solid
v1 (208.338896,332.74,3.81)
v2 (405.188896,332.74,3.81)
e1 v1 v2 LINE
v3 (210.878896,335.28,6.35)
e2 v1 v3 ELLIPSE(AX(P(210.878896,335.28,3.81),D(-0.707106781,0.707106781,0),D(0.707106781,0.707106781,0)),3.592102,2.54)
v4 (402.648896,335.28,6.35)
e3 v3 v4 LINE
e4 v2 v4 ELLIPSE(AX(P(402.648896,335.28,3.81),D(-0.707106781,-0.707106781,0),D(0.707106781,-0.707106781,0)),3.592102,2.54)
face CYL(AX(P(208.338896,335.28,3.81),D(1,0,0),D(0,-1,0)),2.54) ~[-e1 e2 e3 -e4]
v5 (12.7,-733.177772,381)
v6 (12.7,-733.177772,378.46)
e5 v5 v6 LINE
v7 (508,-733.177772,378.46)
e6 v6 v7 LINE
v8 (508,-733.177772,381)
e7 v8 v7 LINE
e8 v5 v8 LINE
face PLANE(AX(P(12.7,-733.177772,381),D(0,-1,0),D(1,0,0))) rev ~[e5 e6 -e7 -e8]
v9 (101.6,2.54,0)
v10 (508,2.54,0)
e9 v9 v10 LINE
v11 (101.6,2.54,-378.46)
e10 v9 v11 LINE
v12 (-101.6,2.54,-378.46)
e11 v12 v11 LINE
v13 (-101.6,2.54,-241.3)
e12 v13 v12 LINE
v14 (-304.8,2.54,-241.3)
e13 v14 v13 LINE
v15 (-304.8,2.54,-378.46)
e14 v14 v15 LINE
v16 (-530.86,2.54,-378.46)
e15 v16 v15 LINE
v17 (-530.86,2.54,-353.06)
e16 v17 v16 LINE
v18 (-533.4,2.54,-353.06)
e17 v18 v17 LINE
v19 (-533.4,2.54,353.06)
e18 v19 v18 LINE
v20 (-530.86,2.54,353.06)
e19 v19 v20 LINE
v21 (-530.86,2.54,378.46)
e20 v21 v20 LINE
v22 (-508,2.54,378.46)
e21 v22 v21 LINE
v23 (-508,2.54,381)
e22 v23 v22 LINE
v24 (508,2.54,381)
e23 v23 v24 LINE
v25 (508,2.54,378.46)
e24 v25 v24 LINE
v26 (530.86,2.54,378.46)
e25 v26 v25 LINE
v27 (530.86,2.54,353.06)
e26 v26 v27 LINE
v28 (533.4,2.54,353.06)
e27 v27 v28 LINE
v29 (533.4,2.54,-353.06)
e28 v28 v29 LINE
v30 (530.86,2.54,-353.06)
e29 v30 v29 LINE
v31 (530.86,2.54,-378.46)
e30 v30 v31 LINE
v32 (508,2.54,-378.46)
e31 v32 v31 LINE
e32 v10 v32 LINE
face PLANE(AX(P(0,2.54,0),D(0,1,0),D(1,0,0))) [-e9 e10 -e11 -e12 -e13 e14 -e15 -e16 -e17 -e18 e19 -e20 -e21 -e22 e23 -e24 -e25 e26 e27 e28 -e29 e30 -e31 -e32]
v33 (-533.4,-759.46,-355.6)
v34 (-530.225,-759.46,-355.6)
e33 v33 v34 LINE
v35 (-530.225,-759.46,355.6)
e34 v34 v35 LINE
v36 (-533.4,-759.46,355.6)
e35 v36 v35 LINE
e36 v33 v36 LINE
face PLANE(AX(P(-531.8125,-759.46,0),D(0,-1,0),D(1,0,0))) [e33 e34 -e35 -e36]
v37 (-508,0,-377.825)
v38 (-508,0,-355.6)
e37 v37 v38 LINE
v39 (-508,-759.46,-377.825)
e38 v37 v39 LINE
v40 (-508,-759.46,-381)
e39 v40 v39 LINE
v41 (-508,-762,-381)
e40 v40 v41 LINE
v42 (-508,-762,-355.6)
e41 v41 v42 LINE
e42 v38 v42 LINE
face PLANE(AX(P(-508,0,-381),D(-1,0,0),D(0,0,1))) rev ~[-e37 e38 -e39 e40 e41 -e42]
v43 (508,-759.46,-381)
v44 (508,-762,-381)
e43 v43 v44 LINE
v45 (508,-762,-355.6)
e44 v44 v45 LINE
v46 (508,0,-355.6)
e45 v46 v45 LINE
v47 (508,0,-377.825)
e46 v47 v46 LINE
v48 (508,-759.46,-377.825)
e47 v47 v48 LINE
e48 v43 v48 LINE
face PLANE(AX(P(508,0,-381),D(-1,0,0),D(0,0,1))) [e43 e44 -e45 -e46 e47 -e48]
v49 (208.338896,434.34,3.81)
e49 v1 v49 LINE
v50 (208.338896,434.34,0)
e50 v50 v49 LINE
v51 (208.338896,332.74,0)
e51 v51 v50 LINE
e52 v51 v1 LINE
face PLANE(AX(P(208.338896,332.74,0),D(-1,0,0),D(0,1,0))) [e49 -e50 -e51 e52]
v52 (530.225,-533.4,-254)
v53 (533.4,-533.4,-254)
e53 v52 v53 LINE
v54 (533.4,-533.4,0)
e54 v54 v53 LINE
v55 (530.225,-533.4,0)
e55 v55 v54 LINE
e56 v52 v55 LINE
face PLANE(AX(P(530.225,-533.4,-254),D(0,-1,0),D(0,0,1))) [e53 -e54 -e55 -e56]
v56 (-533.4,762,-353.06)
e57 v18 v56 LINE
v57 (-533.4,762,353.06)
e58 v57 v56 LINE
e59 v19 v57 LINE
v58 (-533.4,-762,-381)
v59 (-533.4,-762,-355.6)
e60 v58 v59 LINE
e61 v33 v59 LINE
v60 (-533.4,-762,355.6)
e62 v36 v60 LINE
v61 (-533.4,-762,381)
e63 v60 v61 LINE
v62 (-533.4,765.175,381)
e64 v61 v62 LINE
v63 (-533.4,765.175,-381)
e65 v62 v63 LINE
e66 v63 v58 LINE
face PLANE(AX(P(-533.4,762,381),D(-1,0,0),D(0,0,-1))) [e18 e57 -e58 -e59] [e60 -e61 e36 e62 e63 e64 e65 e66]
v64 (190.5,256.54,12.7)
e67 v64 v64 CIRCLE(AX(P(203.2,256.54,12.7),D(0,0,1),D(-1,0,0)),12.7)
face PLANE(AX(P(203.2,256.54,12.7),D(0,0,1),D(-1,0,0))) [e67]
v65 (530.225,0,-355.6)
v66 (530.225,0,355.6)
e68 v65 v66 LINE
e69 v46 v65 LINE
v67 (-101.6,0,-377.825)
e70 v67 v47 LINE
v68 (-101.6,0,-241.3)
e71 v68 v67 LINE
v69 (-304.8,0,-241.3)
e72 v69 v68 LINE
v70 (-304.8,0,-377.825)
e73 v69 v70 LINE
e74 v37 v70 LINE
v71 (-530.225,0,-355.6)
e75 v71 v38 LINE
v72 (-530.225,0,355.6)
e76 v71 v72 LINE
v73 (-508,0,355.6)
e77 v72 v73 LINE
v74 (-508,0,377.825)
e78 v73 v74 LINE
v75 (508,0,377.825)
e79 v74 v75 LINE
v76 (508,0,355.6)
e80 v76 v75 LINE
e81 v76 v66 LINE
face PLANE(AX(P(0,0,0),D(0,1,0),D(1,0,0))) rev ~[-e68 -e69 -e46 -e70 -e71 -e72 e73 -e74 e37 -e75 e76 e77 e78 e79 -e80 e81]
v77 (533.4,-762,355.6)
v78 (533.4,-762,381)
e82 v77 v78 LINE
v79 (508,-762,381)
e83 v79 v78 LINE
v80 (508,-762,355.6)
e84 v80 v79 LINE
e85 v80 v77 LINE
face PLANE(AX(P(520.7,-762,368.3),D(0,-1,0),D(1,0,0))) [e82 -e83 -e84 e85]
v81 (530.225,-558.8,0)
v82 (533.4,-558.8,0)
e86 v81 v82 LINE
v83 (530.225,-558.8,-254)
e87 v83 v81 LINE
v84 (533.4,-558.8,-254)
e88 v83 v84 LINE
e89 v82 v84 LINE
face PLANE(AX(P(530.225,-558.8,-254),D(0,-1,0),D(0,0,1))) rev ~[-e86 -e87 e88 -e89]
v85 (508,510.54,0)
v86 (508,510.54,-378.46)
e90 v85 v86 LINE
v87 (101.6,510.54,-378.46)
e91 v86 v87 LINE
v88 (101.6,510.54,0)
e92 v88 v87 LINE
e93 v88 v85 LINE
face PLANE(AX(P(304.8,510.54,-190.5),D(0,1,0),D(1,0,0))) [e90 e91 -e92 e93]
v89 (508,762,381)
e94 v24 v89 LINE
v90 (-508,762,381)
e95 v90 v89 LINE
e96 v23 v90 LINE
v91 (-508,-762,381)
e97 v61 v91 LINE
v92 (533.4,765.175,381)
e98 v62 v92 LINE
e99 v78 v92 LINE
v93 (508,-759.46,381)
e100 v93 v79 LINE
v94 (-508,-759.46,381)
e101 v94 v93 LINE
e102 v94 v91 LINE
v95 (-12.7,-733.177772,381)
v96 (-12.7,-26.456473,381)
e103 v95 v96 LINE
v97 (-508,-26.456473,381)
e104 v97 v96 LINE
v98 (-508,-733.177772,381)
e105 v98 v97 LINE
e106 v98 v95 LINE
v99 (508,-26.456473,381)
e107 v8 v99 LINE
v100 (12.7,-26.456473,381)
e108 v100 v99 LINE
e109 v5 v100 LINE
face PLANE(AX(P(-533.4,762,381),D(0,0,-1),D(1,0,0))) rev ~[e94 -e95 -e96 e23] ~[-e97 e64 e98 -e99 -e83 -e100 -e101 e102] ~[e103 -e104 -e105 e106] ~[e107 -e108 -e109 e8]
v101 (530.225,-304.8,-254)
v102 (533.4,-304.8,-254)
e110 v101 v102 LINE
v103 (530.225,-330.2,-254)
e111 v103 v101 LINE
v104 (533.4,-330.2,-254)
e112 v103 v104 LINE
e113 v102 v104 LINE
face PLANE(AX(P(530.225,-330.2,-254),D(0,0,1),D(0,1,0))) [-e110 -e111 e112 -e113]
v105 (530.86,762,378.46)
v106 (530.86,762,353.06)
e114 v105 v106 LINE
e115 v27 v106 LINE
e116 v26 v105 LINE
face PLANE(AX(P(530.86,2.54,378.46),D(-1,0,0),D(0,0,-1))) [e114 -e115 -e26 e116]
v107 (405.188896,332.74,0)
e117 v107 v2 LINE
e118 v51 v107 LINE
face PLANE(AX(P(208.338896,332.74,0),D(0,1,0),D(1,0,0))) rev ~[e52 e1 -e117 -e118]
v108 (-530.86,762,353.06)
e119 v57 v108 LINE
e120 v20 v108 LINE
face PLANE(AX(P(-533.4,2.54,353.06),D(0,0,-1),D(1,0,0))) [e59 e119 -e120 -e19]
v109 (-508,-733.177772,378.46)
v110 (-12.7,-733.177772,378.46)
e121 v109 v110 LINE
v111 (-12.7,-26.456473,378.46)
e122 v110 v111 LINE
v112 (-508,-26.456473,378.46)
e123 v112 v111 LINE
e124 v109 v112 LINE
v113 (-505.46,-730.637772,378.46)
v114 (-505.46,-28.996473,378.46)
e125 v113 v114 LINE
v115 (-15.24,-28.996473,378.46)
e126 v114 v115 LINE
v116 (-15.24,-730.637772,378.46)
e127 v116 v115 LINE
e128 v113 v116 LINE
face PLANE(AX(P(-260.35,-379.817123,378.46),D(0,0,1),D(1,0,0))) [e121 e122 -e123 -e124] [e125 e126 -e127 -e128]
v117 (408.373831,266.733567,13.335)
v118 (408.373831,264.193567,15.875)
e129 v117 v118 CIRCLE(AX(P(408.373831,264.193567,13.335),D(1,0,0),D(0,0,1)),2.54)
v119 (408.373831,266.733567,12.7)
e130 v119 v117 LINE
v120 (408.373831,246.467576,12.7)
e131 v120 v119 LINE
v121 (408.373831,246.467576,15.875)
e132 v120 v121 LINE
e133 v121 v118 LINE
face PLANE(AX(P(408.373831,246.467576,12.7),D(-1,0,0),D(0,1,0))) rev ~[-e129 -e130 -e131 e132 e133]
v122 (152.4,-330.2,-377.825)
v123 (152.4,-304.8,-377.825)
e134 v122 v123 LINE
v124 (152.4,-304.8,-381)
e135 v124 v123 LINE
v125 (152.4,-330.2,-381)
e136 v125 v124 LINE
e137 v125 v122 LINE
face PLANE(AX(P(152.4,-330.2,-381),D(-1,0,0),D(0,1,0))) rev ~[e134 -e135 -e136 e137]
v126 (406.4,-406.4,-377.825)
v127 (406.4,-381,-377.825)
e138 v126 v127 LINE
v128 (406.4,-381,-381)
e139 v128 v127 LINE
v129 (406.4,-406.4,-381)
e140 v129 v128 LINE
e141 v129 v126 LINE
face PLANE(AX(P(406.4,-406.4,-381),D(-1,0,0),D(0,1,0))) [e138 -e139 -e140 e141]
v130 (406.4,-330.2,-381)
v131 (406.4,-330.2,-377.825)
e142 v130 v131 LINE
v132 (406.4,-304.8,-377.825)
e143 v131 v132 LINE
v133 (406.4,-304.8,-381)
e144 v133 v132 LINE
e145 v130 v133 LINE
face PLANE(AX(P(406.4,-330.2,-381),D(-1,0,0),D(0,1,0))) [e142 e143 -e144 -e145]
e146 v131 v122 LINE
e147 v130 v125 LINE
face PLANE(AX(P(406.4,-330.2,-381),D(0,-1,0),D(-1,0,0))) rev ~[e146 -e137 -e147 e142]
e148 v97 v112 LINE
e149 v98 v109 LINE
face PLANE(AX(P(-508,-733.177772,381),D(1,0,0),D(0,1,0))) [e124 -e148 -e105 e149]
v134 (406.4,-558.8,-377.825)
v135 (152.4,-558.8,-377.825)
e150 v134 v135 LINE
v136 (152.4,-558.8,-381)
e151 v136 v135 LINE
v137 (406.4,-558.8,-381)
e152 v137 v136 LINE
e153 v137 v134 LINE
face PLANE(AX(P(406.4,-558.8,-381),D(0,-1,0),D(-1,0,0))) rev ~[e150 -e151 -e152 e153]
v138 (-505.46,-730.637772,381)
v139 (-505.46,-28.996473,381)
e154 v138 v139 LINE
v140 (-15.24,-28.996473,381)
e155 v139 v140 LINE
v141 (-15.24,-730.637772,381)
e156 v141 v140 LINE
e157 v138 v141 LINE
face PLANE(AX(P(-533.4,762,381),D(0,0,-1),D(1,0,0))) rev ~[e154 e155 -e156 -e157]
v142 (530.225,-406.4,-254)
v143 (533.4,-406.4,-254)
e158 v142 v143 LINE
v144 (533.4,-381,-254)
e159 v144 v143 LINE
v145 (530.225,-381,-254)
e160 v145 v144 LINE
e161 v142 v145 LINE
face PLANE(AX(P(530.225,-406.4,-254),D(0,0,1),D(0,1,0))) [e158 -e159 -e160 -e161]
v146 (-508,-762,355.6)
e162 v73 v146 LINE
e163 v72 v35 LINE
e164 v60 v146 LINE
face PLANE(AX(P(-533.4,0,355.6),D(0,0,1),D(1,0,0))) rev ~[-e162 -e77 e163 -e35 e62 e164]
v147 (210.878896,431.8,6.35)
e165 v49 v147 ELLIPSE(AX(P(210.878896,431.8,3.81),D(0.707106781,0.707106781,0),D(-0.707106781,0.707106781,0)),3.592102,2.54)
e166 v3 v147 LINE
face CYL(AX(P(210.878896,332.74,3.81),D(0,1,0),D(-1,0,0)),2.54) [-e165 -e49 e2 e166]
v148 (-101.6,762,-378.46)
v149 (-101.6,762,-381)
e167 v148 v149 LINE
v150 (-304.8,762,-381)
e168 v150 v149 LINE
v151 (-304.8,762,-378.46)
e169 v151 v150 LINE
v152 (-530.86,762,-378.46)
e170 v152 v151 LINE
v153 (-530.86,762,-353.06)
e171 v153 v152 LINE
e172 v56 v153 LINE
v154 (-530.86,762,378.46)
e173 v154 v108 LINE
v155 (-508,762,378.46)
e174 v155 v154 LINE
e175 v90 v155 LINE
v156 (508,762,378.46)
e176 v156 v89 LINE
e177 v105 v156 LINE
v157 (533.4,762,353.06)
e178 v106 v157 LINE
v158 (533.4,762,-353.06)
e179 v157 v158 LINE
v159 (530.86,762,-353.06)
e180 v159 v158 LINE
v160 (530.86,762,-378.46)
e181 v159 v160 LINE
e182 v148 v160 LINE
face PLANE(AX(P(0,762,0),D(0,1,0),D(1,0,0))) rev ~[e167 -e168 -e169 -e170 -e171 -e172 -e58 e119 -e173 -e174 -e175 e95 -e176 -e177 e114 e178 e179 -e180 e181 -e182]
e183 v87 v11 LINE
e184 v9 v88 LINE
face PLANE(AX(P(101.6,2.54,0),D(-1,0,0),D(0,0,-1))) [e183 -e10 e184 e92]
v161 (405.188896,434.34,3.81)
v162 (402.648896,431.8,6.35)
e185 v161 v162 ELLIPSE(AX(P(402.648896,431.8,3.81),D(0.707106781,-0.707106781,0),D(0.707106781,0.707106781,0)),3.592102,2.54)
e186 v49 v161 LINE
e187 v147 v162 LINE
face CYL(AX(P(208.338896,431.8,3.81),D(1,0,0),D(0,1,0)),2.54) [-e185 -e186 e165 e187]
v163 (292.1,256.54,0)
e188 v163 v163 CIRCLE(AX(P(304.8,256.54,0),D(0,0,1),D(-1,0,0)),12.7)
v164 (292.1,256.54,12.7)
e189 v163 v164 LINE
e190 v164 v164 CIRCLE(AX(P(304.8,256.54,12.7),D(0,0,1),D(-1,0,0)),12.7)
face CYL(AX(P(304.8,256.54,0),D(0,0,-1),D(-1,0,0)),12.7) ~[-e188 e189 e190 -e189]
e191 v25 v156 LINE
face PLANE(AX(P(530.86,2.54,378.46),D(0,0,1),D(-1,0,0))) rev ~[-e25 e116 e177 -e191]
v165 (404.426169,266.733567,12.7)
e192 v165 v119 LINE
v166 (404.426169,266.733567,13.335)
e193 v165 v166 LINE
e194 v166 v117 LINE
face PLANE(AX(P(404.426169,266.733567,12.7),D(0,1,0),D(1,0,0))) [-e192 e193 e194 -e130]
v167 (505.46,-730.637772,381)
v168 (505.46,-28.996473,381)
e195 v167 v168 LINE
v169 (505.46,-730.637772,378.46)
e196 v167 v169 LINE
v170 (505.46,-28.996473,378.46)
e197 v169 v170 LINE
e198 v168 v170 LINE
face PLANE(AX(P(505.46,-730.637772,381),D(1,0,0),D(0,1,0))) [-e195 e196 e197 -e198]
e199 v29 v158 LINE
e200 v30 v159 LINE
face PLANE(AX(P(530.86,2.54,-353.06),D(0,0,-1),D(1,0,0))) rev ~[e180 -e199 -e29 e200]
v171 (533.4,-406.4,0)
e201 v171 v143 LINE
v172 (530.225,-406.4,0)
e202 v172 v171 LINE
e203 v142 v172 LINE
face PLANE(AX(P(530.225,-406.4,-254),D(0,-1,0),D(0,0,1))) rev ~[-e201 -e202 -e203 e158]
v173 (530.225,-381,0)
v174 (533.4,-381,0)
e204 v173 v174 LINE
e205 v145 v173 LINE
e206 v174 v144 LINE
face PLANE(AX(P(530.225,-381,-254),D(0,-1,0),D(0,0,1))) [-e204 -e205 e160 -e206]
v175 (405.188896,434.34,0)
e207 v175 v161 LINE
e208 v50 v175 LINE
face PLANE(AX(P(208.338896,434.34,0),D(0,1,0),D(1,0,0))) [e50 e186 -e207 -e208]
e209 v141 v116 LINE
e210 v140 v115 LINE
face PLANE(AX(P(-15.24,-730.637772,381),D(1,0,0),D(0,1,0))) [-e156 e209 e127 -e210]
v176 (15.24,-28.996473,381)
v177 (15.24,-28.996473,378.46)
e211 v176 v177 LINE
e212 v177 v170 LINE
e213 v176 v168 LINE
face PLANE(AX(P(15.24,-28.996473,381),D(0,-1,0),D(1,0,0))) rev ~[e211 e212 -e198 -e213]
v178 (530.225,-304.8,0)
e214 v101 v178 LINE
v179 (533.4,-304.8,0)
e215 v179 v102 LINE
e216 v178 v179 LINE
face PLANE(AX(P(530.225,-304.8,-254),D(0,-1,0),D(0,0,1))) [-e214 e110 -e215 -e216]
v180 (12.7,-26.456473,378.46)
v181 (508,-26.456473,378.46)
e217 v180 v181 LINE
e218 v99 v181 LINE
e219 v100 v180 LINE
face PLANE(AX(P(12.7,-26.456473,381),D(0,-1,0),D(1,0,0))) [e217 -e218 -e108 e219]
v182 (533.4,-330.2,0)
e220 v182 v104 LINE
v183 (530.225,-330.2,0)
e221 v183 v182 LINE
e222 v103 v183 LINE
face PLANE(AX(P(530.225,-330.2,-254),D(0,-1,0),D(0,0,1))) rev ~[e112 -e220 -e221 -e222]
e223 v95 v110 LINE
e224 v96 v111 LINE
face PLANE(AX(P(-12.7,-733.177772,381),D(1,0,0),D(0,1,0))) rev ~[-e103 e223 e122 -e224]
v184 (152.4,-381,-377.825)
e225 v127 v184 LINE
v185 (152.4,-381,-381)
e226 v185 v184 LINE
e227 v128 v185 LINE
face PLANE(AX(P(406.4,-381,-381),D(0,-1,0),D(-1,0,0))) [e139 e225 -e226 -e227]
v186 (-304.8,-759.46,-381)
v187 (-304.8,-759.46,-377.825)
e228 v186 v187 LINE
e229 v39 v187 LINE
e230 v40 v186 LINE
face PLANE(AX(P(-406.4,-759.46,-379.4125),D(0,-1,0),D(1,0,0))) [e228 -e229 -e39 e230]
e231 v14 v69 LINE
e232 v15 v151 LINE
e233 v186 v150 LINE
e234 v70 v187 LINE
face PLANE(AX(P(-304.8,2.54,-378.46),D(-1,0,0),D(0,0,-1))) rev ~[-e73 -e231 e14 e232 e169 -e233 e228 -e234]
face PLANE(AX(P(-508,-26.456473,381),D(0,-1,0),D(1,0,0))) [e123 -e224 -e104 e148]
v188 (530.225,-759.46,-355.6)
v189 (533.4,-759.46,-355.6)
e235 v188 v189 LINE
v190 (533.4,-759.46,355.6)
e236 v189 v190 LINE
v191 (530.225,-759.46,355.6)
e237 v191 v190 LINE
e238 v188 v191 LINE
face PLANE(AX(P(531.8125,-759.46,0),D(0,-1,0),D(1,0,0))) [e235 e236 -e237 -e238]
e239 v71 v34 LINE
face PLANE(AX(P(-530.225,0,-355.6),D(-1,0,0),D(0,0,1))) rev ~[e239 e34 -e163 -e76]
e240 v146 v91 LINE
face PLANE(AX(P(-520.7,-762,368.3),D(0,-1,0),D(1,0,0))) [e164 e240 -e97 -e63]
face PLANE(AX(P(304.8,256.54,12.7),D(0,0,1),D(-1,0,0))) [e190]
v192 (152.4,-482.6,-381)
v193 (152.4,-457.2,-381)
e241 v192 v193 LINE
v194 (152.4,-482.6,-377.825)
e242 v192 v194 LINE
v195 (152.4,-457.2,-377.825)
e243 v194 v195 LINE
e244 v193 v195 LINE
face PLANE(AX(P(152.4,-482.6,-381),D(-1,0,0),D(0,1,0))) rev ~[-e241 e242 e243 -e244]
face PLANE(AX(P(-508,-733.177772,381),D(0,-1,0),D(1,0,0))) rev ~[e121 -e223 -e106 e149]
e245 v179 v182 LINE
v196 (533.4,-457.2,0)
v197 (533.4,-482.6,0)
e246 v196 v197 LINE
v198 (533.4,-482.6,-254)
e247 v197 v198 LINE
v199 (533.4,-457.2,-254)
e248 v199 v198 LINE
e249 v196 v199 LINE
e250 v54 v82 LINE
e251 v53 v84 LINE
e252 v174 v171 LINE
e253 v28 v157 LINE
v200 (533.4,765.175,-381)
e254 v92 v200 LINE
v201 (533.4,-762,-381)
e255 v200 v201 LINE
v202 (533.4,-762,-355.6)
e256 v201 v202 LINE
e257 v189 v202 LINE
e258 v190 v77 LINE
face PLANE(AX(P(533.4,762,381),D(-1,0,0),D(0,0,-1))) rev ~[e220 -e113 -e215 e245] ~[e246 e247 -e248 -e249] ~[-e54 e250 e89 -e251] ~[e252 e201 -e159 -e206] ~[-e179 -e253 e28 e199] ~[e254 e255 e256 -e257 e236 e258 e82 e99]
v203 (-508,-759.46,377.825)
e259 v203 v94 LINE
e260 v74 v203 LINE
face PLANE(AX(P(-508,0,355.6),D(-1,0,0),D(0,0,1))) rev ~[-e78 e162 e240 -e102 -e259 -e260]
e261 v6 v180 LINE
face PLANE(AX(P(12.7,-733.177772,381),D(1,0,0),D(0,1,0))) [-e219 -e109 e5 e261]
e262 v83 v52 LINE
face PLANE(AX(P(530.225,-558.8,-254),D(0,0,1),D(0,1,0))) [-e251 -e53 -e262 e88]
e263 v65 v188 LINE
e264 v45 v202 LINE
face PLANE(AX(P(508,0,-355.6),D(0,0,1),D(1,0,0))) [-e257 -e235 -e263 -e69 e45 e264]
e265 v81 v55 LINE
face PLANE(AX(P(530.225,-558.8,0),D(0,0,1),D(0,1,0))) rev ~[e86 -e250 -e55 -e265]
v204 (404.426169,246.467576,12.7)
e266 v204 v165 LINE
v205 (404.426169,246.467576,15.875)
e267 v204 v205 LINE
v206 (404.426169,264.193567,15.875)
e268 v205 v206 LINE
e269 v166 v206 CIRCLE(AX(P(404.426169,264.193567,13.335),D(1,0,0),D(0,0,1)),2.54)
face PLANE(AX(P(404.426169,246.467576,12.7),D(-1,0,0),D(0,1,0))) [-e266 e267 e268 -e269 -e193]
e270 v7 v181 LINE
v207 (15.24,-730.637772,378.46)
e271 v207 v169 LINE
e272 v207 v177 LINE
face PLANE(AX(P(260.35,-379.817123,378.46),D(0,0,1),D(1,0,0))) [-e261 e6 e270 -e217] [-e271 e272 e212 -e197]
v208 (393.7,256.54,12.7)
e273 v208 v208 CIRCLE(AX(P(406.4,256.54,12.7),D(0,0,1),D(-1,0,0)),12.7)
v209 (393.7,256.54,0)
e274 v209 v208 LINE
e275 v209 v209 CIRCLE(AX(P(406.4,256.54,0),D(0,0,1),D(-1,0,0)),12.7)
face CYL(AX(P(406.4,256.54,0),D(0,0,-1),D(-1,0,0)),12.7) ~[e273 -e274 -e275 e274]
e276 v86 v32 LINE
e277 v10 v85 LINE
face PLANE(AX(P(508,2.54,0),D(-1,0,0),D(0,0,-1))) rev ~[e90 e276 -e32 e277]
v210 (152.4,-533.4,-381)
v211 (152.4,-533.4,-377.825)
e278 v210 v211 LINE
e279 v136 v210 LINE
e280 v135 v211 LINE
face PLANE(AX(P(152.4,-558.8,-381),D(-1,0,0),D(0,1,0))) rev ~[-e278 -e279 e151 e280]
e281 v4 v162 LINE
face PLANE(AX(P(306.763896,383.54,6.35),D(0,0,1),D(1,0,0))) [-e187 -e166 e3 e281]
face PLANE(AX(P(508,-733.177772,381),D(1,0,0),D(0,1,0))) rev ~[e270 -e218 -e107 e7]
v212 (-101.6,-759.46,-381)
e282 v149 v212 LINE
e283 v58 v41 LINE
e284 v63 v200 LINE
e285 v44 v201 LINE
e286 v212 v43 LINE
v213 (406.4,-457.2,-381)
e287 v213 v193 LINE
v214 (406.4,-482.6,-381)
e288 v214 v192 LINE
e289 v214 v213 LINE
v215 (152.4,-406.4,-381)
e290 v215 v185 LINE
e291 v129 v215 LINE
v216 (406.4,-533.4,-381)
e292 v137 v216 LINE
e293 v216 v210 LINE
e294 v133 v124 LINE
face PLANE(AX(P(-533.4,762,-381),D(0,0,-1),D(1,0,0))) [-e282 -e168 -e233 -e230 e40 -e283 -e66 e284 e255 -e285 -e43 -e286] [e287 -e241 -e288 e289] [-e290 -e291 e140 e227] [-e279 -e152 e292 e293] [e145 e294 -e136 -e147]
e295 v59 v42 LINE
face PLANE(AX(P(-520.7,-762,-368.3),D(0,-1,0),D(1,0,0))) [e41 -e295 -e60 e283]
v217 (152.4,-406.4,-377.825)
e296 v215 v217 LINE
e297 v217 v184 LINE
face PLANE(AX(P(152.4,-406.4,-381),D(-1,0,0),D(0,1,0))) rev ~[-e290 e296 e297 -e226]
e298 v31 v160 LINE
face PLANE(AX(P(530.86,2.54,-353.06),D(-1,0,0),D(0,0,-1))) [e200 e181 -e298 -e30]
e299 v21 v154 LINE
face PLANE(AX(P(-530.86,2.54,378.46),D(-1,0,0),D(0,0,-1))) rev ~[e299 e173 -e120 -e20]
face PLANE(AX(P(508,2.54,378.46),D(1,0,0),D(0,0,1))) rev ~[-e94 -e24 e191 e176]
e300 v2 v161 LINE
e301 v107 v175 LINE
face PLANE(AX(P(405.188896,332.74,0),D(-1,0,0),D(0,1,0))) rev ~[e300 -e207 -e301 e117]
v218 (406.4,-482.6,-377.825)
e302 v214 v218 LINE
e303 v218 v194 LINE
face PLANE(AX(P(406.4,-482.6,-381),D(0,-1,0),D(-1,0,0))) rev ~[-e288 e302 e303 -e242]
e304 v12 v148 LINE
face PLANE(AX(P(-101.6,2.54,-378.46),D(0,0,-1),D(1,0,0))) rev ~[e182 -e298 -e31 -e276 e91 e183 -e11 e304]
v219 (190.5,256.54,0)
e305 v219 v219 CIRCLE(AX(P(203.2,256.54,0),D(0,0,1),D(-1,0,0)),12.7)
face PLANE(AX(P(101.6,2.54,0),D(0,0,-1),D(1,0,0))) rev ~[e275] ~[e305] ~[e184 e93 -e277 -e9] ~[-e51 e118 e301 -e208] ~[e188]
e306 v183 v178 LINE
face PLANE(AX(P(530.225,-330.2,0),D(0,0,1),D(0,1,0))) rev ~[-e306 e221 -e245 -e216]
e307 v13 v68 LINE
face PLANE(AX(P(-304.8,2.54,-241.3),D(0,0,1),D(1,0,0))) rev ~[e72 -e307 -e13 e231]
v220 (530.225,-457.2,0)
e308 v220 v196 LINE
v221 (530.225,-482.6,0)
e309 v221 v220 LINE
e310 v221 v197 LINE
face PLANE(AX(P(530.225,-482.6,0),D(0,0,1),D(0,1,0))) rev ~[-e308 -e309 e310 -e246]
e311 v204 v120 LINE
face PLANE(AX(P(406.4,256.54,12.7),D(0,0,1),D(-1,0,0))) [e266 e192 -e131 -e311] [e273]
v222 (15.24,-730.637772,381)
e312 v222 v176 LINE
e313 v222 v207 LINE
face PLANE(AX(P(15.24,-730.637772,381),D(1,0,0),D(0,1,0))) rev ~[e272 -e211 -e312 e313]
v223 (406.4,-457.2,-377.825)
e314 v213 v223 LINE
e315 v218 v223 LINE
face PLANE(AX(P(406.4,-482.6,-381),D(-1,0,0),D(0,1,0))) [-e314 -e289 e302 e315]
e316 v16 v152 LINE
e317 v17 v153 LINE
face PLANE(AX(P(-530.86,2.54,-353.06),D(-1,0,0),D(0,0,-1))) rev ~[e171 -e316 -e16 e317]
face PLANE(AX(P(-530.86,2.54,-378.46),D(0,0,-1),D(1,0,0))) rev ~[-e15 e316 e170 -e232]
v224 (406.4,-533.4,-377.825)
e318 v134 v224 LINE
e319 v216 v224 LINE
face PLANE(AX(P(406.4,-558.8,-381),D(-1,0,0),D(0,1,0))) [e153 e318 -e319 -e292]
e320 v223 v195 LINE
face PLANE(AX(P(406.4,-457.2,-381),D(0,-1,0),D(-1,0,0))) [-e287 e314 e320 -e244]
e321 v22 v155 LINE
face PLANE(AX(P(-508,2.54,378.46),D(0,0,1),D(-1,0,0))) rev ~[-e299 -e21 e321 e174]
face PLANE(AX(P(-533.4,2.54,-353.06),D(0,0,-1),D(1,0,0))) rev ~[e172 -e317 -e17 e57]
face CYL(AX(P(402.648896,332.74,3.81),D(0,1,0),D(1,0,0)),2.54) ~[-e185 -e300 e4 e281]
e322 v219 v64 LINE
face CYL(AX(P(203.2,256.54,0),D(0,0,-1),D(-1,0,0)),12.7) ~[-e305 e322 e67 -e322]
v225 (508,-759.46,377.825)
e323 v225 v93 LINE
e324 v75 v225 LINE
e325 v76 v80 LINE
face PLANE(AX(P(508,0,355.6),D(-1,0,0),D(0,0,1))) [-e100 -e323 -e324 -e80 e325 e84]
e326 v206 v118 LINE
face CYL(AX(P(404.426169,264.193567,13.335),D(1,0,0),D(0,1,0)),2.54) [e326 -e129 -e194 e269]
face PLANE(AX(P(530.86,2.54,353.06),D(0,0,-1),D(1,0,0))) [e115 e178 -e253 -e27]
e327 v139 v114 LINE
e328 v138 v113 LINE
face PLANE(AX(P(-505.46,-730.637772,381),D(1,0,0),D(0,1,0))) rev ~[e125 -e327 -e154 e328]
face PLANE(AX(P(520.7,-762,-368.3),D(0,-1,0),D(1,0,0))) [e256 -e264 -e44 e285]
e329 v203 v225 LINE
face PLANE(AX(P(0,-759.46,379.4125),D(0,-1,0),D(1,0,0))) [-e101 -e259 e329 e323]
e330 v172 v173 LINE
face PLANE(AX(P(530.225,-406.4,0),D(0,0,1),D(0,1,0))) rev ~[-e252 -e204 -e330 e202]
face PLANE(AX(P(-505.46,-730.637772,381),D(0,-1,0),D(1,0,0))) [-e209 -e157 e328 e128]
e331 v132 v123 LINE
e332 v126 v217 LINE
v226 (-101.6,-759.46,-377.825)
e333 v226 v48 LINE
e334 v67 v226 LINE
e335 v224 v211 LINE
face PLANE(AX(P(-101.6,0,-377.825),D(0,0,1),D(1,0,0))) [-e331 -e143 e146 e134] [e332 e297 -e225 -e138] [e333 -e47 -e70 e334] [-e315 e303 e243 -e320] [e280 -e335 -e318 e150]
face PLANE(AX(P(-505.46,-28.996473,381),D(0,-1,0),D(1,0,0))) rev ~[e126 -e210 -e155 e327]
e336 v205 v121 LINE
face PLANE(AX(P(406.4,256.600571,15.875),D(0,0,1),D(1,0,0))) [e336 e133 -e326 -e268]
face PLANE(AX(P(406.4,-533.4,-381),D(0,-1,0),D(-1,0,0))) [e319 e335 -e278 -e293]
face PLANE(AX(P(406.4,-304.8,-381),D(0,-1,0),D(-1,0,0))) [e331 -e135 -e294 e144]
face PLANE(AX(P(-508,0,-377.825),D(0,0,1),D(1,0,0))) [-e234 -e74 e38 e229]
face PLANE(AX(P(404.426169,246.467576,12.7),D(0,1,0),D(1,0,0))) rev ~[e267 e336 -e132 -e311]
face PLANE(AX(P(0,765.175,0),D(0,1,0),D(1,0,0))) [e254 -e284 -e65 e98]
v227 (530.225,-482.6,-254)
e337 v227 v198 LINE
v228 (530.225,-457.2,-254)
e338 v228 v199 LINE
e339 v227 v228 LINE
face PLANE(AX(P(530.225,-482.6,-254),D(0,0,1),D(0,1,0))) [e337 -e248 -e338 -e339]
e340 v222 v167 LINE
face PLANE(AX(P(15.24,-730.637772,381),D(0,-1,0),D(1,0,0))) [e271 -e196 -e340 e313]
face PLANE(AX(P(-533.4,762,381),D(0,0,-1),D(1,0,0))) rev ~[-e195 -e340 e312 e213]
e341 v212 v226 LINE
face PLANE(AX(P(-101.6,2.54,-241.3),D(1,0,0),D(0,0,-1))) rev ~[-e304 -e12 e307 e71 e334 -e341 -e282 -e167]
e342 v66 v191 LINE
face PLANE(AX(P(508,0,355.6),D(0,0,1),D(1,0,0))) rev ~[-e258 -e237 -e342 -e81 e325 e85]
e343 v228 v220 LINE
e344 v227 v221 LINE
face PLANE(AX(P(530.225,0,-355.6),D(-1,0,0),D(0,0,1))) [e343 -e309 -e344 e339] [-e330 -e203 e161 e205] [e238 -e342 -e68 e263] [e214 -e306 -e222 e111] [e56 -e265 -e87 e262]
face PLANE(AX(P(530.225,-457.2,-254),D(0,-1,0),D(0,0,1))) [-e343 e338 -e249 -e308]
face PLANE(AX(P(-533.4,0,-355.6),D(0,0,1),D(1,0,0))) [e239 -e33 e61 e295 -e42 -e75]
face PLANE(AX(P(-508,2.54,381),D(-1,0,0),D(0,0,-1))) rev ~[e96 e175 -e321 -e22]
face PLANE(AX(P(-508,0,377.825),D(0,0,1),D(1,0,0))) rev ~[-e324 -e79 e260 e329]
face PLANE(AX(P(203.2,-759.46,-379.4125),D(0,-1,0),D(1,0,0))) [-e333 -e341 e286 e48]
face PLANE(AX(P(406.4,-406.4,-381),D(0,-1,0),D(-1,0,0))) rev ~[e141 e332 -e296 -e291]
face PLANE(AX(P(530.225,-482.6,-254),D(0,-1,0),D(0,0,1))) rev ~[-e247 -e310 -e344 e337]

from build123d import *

# Parameters (mm, degrees)
SKETCH1_W            = 1066.8
SKETCH1_H            = 762
BOSS_EXTRUDE1_DEPTH  = 2.54
SKETCH2_W            = 203.2
SKETCH2_H            = 139.7
CUT_EXTRUDE1_DEPTH   = 656.50210648
SKETCH3_W            = 25.4
SKETCH3_H            = 25.4
BOSS_EXTRUDE2_DEPTH  = 762
SKETCH4_W            = 406.4
SKETCH4_H            = 381
BOSS_EXTRUDE3_DEPTH  = 508
SKETCH5_R            = 12.7
BOSS_EXTRUDE4_DEPTH  = 12.7
SKETCH6_W            = 3.94766101
SKETCH6_H            = 20.265990969
BOSS_EXTRUDE5_DEPTH  = 3.175
FILLET1_R            = 2.54
SKETCH7_W            = 196.85
SKETCH7_H            = 101.6
BOSS_EXTRUDE6_DEPTH  = 6.35
FILLET2_R            = 2.54
SKETCH8_W            = 2.54
SKETCH8_H            = 25.4
SKETCH8_W_2          = 203.2
SKETCH8_H_2          = 2.54
SKETCH8_W_3          = 406.4
BOSS_EXTRUDE7_DEPTH  = 759.46
SKETCH9_W            = 1066.8
SKETCH9_H            = 762
BOSS_EXTRUDE8_DEPTH  = 3.175
SKETCH11_W           = 1016
SKETCH11_H           = 3.175
SKETCH11_W_2         = 3.175
SKETCH11_H_2         = 711.2
SKETCH11_W_3         = 203.2
SKETCH11_W_4         = 609.6
BOSS_EXTRUDE10_DEPTH = 759.46
CUT_EXTRUDE3_REACH   = 1366.534
SKETCH12_W           = 254
SKETCH12_H           = 25.4
CUT_EXTRUDE4_REACH   = 1206.43
SKETCH13_W           = 254
SKETCH13_H           = 25.4
SKETCH14_W           = 495.3
SKETCH14_H           = 706.721299259
SKETCH14_W_2         = 490.22
SKETCH14_H_2         = 701.641299259
CUT_EXTRUDE5_DEPTH   = 2.54


with BuildPart() as part:
    # Sketch1 → Boss-Extrude1 (new body)
    with BuildSketch(Plane(origin=(0, 0, 0), x_dir=(1, 0, 0), z_dir=(0, 1, 0))):
        Rectangle(SKETCH1_W, SKETCH1_H)
    extrude(amount=BOSS_EXTRUDE1_DEPTH)

    # Sketch2 → Cut-Extrude1 (cut, through all)
    with BuildSketch(Plane(origin=(0, 2.54, 0), x_dir=(1, 0, 0), z_dir=(0, 1, 0))):
        with Locations((-203.2, 311.15)):
            Rectangle(SKETCH2_W, SKETCH2_H)
    extrude(amount=-CUT_EXTRUDE1_DEPTH, mode=Mode.SUBTRACT)

    # Sketch3 → Boss-Extrude2 (add)
    with BuildSketch(Plane.XZ):
        with Locations((-520.7, 368.3)):
            Rectangle(SKETCH3_W, SKETCH3_H)
        with Locations((520.7, 368.3)):
            Rectangle(SKETCH3_W, SKETCH3_H)
        with Locations((520.7, -368.3)):
            Rectangle(SKETCH3_W, SKETCH3_H)
        with Locations((-520.7, -368.3)):
            Rectangle(SKETCH3_W, SKETCH3_H)
    extrude(amount=BOSS_EXTRUDE2_DEPTH)

    # Sketch4 → Boss-Extrude3 (add)
    with BuildSketch(Plane(origin=(0, 2.54, 0), x_dir=(1, 0, 0), z_dir=(0, 1, 0))):
        with Locations((304.8, 190.5)):
            Rectangle(SKETCH4_W, SKETCH4_H)
    extrude(amount=BOSS_EXTRUDE3_DEPTH)

    # Sketch5 → Boss-Extrude4 (add)
    with BuildSketch(Plane.XY):
        with Locations(Location((203.2, 256.54, 0), (0, 0, 180))):
            Circle(SKETCH5_R)
        with Locations(Location((304.8, 256.54, 0), (0, 0, 180))):
            Circle(SKETCH5_R)
        with Locations(Location((406.4, 256.54, 0), (0, 0, 180))):
            Circle(SKETCH5_R)
    extrude(amount=BOSS_EXTRUDE4_DEPTH)

    # Sketch6 → Boss-Extrude5 (add)
    with BuildSketch(Plane.XY.offset(12.7)):
        with Locations((406.4, 256.600571442)):
            Rectangle(SKETCH6_W, SKETCH6_H)
    extrude(amount=BOSS_EXTRUDE5_DEPTH)

    # Fillet1
    fillet1_edges = [part.edges().sort_by_distance(p)[0] for p in [
        (406.4, 266.733566926, 15.875),
    ]]
    fillet(fillet1_edges, radius=FILLET1_R)

    # Sketch7 → Boss-Extrude6 (add)
    with BuildSketch(Plane.XY):
        with Locations((306.763896215, 383.54)):
            Rectangle(SKETCH7_W, SKETCH7_H)
    extrude(amount=BOSS_EXTRUDE6_DEPTH)

    # Fillet2
    fillet2_edges = [part.edges().sort_by_distance(p)[0] for p in [
        (208.338896215, 383.54, 6.35),
        (306.763896215, 332.74, 6.35),
        (405.188896215, 383.54, 6.35),
        (306.763896215, 434.34, 6.35),
    ]]
    fillet(fillet2_edges, radius=FILLET2_R)

    # Sketch8 → Boss-Extrude7 (add)
    with BuildSketch(Plane(origin=(0, 2.54, 0), x_dir=(1, 0, 0), z_dir=(0, 1, 0))):
        Polygon((-304.8, 381), (-533.4, 381), (-533.4, 378.46), (-530.86, 378.46), (-304.8, 378.46), align=None)
        with Locations((-532.13, 365.76)):
            Rectangle(SKETCH8_W, SKETCH8_H)
        Polygon((530.86, 378.46), (533.4, 378.46), (533.4, 381), (508, 381), (508, 378.46), align=None)
        with Locations((532.13, 365.76)):
            Rectangle(SKETCH8_W, SKETCH8_H)
        with Locations((0, 379.73)):
            Rectangle(SKETCH8_W_2, SKETCH8_H_2)
        Polygon((508, -378.46), (508, -381), (533.4, -381), (533.4, -378.46), (530.86, -378.46), align=None)
        with Locations((532.13, -365.76)):
            Rectangle(SKETCH8_W, SKETCH8_H)
        with Locations((-532.13, -365.76)):
            Rectangle(SKETCH8_W, SKETCH8_H)
        Polygon((-530.86, -378.46), (-533.4, -378.46), (-533.4, -381), (-508, -381), (-508, -378.46), align=None)
        with Locations((304.8, 379.73)):
            Rectangle(SKETCH8_W_3, SKETCH8_H_2)
    extrude(amount=BOSS_EXTRUDE7_DEPTH)

    # Sketch9 → Boss-Extrude8 (add)
    with BuildSketch(Plane(origin=(0, 762, 0), x_dir=(1, 0, 0), z_dir=(0, 1, 0))):
        Rectangle(SKETCH9_W, SKETCH9_H)
    extrude(amount=BOSS_EXTRUDE8_DEPTH)

    # Sketch11 → Boss-Extrude10 (add)
    with BuildSketch(Plane.XZ):
        with Locations((0, 379.4125)):
            Rectangle(SKETCH11_W, SKETCH11_H)
        with Locations((531.8125, 0)):
            Rectangle(SKETCH11_W_2, SKETCH11_H_2)
        with Locations((-531.8125, 0)):
            Rectangle(SKETCH11_W_2, SKETCH11_H_2)
        with Locations((-406.4, -379.4125)):
            Rectangle(SKETCH11_W_3, SKETCH11_H)
        with Locations((203.2, -379.4125)):
            Rectangle(SKETCH11_W_4, SKETCH11_H)
    extrude(amount=BOSS_EXTRUDE10_DEPTH)

    # Sketch12 → Cut-Extrude3 (cut, up to next)
    with BuildSketch(Plane.ZY.offset(-530.225), mode=Mode.PRIVATE) as cut_extrude3_sk1:
        with Locations((-127, -317.5)):
            Rectangle(SKETCH12_W, SKETCH12_H)
    cut_extrude3_tool1 = extrude(cut_extrude3_sk1.sketch, amount=-CUT_EXTRUDE3_REACH, mode=Mode.PRIVATE) & part.part
    # Sketch12 → Cut-Extrude3 (cut, up to next)
    with BuildSketch(Plane.ZY.offset(-530.225), mode=Mode.PRIVATE) as cut_extrude3_sk2:
        with Locations((-127, -393.7)):
            Rectangle(SKETCH12_W, SKETCH12_H)
    cut_extrude3_tool2 = extrude(cut_extrude3_sk2.sketch, amount=-CUT_EXTRUDE3_REACH, mode=Mode.PRIVATE) & part.part
    # Sketch12 → Cut-Extrude3 (cut, up to next)
    with BuildSketch(Plane.ZY.offset(-530.225), mode=Mode.PRIVATE) as cut_extrude3_sk3:
        with Locations((-127, -469.9)):
            Rectangle(SKETCH12_W, SKETCH12_H)
    cut_extrude3_tool3 = extrude(cut_extrude3_sk3.sketch, amount=-CUT_EXTRUDE3_REACH, mode=Mode.PRIVATE) & part.part
    # Sketch12 → Cut-Extrude3 (cut, up to next)
    with BuildSketch(Plane.ZY.offset(-530.225), mode=Mode.PRIVATE) as cut_extrude3_sk4:
        with Locations((-127, -546.1)):
            Rectangle(SKETCH12_W, SKETCH12_H)
    cut_extrude3_tool4 = extrude(cut_extrude3_sk4.sketch, amount=-CUT_EXTRUDE3_REACH, mode=Mode.PRIVATE) & part.part
    add(cut_extrude3_tool1.solids().sort_by_distance((530.225, -317.5, -127))[0], mode=Mode.SUBTRACT)
    add(cut_extrude3_tool2.solids().sort_by_distance((530.225, -393.7, -127))[0], mode=Mode.SUBTRACT)
    add(cut_extrude3_tool3.solids().sort_by_distance((530.225, -469.9, -127))[0], mode=Mode.SUBTRACT)
    add(cut_extrude3_tool4.solids().sort_by_distance((530.225, -546.1, -127))[0], mode=Mode.SUBTRACT)

    # Sketch13 → Cut-Extrude4 (cut, up to next)
    with BuildSketch(Plane(origin=(0, 0, -381), x_dir=(-1, 0, 0), z_dir=(0, 0, -1)), mode=Mode.PRIVATE) as cut_extrude4_sk1:
        with Locations((-279.4, -317.5)):
            Rectangle(SKETCH13_W, SKETCH13_H)
    cut_extrude4_tool1 = extrude(cut_extrude4_sk1.sketch, amount=-CUT_EXTRUDE4_REACH, mode=Mode.PRIVATE) & part.part
    # Sketch13 → Cut-Extrude4 (cut, up to next)
    with BuildSketch(Plane(origin=(0, 0, -381), x_dir=(-1, 0, 0), z_dir=(0, 0, -1)), mode=Mode.PRIVATE) as cut_extrude4_sk2:
        with Locations((-279.4, -393.7)):
            Rectangle(SKETCH13_W, SKETCH13_H)
    cut_extrude4_tool2 = extrude(cut_extrude4_sk2.sketch, amount=-CUT_EXTRUDE4_REACH, mode=Mode.PRIVATE) & part.part
    # Sketch13 → Cut-Extrude4 (cut, up to next)
    with BuildSketch(Plane(origin=(0, 0, -381), x_dir=(-1, 0, 0), z_dir=(0, 0, -1)), mode=Mode.PRIVATE) as cut_extrude4_sk3:
        with Locations((-279.4, -469.9)):
            Rectangle(SKETCH13_W, SKETCH13_H)
    cut_extrude4_tool3 = extrude(cut_extrude4_sk3.sketch, amount=-CUT_EXTRUDE4_REACH, mode=Mode.PRIVATE) & part.part
    # Sketch13 → Cut-Extrude4 (cut, up to next)
    with BuildSketch(Plane(origin=(0, 0, -381), x_dir=(-1, 0, 0), z_dir=(0, 0, -1)), mode=Mode.PRIVATE) as cut_extrude4_sk4:
        with Locations((-279.4, -546.1)):
            Rectangle(SKETCH13_W, SKETCH13_H)
    cut_extrude4_tool4 = extrude(cut_extrude4_sk4.sketch, amount=-CUT_EXTRUDE4_REACH, mode=Mode.PRIVATE) & part.part
    add(cut_extrude4_tool1.solids().sort_by_distance((279.4, -317.5, -381))[0], mode=Mode.SUBTRACT)
    add(cut_extrude4_tool2.solids().sort_by_distance((279.4, -393.7, -381))[0], mode=Mode.SUBTRACT)
    add(cut_extrude4_tool3.solids().sort_by_distance((279.4, -469.9, -381))[0], mode=Mode.SUBTRACT)
    add(cut_extrude4_tool4.solids().sort_by_distance((279.4, -546.1, -381))[0], mode=Mode.SUBTRACT)

    # Sketch14 → Cut-Extrude5 (cut)
    # profile 1 of 2: a face of its own
    with BuildSketch(Plane.XY.offset(381)):
        with Locations((-260.35, -379.817122747)):
            Rectangle(SKETCH14_W, SKETCH14_H)
        with Locations((-260.35, -379.817122748)):
            Rectangle(SKETCH14_W_2, SKETCH14_H_2, mode=Mode.SUBTRACT)
    # profile 2 of 2: a face of its own
    with BuildSketch(Plane.XY.offset(381)):
        with Locations((260.35, -379.817122747)):
            Rectangle(SKETCH14_W, SKETCH14_H)
        with Locations((260.35, -379.817122748)):
            Rectangle(SKETCH14_W_2, SKETCH14_H_2, mode=Mode.SUBTRACT)
    extrude(amount=-CUT_EXTRUDE5_DEPTH, mode=Mode.SUBTRACT)


solid = part.part
